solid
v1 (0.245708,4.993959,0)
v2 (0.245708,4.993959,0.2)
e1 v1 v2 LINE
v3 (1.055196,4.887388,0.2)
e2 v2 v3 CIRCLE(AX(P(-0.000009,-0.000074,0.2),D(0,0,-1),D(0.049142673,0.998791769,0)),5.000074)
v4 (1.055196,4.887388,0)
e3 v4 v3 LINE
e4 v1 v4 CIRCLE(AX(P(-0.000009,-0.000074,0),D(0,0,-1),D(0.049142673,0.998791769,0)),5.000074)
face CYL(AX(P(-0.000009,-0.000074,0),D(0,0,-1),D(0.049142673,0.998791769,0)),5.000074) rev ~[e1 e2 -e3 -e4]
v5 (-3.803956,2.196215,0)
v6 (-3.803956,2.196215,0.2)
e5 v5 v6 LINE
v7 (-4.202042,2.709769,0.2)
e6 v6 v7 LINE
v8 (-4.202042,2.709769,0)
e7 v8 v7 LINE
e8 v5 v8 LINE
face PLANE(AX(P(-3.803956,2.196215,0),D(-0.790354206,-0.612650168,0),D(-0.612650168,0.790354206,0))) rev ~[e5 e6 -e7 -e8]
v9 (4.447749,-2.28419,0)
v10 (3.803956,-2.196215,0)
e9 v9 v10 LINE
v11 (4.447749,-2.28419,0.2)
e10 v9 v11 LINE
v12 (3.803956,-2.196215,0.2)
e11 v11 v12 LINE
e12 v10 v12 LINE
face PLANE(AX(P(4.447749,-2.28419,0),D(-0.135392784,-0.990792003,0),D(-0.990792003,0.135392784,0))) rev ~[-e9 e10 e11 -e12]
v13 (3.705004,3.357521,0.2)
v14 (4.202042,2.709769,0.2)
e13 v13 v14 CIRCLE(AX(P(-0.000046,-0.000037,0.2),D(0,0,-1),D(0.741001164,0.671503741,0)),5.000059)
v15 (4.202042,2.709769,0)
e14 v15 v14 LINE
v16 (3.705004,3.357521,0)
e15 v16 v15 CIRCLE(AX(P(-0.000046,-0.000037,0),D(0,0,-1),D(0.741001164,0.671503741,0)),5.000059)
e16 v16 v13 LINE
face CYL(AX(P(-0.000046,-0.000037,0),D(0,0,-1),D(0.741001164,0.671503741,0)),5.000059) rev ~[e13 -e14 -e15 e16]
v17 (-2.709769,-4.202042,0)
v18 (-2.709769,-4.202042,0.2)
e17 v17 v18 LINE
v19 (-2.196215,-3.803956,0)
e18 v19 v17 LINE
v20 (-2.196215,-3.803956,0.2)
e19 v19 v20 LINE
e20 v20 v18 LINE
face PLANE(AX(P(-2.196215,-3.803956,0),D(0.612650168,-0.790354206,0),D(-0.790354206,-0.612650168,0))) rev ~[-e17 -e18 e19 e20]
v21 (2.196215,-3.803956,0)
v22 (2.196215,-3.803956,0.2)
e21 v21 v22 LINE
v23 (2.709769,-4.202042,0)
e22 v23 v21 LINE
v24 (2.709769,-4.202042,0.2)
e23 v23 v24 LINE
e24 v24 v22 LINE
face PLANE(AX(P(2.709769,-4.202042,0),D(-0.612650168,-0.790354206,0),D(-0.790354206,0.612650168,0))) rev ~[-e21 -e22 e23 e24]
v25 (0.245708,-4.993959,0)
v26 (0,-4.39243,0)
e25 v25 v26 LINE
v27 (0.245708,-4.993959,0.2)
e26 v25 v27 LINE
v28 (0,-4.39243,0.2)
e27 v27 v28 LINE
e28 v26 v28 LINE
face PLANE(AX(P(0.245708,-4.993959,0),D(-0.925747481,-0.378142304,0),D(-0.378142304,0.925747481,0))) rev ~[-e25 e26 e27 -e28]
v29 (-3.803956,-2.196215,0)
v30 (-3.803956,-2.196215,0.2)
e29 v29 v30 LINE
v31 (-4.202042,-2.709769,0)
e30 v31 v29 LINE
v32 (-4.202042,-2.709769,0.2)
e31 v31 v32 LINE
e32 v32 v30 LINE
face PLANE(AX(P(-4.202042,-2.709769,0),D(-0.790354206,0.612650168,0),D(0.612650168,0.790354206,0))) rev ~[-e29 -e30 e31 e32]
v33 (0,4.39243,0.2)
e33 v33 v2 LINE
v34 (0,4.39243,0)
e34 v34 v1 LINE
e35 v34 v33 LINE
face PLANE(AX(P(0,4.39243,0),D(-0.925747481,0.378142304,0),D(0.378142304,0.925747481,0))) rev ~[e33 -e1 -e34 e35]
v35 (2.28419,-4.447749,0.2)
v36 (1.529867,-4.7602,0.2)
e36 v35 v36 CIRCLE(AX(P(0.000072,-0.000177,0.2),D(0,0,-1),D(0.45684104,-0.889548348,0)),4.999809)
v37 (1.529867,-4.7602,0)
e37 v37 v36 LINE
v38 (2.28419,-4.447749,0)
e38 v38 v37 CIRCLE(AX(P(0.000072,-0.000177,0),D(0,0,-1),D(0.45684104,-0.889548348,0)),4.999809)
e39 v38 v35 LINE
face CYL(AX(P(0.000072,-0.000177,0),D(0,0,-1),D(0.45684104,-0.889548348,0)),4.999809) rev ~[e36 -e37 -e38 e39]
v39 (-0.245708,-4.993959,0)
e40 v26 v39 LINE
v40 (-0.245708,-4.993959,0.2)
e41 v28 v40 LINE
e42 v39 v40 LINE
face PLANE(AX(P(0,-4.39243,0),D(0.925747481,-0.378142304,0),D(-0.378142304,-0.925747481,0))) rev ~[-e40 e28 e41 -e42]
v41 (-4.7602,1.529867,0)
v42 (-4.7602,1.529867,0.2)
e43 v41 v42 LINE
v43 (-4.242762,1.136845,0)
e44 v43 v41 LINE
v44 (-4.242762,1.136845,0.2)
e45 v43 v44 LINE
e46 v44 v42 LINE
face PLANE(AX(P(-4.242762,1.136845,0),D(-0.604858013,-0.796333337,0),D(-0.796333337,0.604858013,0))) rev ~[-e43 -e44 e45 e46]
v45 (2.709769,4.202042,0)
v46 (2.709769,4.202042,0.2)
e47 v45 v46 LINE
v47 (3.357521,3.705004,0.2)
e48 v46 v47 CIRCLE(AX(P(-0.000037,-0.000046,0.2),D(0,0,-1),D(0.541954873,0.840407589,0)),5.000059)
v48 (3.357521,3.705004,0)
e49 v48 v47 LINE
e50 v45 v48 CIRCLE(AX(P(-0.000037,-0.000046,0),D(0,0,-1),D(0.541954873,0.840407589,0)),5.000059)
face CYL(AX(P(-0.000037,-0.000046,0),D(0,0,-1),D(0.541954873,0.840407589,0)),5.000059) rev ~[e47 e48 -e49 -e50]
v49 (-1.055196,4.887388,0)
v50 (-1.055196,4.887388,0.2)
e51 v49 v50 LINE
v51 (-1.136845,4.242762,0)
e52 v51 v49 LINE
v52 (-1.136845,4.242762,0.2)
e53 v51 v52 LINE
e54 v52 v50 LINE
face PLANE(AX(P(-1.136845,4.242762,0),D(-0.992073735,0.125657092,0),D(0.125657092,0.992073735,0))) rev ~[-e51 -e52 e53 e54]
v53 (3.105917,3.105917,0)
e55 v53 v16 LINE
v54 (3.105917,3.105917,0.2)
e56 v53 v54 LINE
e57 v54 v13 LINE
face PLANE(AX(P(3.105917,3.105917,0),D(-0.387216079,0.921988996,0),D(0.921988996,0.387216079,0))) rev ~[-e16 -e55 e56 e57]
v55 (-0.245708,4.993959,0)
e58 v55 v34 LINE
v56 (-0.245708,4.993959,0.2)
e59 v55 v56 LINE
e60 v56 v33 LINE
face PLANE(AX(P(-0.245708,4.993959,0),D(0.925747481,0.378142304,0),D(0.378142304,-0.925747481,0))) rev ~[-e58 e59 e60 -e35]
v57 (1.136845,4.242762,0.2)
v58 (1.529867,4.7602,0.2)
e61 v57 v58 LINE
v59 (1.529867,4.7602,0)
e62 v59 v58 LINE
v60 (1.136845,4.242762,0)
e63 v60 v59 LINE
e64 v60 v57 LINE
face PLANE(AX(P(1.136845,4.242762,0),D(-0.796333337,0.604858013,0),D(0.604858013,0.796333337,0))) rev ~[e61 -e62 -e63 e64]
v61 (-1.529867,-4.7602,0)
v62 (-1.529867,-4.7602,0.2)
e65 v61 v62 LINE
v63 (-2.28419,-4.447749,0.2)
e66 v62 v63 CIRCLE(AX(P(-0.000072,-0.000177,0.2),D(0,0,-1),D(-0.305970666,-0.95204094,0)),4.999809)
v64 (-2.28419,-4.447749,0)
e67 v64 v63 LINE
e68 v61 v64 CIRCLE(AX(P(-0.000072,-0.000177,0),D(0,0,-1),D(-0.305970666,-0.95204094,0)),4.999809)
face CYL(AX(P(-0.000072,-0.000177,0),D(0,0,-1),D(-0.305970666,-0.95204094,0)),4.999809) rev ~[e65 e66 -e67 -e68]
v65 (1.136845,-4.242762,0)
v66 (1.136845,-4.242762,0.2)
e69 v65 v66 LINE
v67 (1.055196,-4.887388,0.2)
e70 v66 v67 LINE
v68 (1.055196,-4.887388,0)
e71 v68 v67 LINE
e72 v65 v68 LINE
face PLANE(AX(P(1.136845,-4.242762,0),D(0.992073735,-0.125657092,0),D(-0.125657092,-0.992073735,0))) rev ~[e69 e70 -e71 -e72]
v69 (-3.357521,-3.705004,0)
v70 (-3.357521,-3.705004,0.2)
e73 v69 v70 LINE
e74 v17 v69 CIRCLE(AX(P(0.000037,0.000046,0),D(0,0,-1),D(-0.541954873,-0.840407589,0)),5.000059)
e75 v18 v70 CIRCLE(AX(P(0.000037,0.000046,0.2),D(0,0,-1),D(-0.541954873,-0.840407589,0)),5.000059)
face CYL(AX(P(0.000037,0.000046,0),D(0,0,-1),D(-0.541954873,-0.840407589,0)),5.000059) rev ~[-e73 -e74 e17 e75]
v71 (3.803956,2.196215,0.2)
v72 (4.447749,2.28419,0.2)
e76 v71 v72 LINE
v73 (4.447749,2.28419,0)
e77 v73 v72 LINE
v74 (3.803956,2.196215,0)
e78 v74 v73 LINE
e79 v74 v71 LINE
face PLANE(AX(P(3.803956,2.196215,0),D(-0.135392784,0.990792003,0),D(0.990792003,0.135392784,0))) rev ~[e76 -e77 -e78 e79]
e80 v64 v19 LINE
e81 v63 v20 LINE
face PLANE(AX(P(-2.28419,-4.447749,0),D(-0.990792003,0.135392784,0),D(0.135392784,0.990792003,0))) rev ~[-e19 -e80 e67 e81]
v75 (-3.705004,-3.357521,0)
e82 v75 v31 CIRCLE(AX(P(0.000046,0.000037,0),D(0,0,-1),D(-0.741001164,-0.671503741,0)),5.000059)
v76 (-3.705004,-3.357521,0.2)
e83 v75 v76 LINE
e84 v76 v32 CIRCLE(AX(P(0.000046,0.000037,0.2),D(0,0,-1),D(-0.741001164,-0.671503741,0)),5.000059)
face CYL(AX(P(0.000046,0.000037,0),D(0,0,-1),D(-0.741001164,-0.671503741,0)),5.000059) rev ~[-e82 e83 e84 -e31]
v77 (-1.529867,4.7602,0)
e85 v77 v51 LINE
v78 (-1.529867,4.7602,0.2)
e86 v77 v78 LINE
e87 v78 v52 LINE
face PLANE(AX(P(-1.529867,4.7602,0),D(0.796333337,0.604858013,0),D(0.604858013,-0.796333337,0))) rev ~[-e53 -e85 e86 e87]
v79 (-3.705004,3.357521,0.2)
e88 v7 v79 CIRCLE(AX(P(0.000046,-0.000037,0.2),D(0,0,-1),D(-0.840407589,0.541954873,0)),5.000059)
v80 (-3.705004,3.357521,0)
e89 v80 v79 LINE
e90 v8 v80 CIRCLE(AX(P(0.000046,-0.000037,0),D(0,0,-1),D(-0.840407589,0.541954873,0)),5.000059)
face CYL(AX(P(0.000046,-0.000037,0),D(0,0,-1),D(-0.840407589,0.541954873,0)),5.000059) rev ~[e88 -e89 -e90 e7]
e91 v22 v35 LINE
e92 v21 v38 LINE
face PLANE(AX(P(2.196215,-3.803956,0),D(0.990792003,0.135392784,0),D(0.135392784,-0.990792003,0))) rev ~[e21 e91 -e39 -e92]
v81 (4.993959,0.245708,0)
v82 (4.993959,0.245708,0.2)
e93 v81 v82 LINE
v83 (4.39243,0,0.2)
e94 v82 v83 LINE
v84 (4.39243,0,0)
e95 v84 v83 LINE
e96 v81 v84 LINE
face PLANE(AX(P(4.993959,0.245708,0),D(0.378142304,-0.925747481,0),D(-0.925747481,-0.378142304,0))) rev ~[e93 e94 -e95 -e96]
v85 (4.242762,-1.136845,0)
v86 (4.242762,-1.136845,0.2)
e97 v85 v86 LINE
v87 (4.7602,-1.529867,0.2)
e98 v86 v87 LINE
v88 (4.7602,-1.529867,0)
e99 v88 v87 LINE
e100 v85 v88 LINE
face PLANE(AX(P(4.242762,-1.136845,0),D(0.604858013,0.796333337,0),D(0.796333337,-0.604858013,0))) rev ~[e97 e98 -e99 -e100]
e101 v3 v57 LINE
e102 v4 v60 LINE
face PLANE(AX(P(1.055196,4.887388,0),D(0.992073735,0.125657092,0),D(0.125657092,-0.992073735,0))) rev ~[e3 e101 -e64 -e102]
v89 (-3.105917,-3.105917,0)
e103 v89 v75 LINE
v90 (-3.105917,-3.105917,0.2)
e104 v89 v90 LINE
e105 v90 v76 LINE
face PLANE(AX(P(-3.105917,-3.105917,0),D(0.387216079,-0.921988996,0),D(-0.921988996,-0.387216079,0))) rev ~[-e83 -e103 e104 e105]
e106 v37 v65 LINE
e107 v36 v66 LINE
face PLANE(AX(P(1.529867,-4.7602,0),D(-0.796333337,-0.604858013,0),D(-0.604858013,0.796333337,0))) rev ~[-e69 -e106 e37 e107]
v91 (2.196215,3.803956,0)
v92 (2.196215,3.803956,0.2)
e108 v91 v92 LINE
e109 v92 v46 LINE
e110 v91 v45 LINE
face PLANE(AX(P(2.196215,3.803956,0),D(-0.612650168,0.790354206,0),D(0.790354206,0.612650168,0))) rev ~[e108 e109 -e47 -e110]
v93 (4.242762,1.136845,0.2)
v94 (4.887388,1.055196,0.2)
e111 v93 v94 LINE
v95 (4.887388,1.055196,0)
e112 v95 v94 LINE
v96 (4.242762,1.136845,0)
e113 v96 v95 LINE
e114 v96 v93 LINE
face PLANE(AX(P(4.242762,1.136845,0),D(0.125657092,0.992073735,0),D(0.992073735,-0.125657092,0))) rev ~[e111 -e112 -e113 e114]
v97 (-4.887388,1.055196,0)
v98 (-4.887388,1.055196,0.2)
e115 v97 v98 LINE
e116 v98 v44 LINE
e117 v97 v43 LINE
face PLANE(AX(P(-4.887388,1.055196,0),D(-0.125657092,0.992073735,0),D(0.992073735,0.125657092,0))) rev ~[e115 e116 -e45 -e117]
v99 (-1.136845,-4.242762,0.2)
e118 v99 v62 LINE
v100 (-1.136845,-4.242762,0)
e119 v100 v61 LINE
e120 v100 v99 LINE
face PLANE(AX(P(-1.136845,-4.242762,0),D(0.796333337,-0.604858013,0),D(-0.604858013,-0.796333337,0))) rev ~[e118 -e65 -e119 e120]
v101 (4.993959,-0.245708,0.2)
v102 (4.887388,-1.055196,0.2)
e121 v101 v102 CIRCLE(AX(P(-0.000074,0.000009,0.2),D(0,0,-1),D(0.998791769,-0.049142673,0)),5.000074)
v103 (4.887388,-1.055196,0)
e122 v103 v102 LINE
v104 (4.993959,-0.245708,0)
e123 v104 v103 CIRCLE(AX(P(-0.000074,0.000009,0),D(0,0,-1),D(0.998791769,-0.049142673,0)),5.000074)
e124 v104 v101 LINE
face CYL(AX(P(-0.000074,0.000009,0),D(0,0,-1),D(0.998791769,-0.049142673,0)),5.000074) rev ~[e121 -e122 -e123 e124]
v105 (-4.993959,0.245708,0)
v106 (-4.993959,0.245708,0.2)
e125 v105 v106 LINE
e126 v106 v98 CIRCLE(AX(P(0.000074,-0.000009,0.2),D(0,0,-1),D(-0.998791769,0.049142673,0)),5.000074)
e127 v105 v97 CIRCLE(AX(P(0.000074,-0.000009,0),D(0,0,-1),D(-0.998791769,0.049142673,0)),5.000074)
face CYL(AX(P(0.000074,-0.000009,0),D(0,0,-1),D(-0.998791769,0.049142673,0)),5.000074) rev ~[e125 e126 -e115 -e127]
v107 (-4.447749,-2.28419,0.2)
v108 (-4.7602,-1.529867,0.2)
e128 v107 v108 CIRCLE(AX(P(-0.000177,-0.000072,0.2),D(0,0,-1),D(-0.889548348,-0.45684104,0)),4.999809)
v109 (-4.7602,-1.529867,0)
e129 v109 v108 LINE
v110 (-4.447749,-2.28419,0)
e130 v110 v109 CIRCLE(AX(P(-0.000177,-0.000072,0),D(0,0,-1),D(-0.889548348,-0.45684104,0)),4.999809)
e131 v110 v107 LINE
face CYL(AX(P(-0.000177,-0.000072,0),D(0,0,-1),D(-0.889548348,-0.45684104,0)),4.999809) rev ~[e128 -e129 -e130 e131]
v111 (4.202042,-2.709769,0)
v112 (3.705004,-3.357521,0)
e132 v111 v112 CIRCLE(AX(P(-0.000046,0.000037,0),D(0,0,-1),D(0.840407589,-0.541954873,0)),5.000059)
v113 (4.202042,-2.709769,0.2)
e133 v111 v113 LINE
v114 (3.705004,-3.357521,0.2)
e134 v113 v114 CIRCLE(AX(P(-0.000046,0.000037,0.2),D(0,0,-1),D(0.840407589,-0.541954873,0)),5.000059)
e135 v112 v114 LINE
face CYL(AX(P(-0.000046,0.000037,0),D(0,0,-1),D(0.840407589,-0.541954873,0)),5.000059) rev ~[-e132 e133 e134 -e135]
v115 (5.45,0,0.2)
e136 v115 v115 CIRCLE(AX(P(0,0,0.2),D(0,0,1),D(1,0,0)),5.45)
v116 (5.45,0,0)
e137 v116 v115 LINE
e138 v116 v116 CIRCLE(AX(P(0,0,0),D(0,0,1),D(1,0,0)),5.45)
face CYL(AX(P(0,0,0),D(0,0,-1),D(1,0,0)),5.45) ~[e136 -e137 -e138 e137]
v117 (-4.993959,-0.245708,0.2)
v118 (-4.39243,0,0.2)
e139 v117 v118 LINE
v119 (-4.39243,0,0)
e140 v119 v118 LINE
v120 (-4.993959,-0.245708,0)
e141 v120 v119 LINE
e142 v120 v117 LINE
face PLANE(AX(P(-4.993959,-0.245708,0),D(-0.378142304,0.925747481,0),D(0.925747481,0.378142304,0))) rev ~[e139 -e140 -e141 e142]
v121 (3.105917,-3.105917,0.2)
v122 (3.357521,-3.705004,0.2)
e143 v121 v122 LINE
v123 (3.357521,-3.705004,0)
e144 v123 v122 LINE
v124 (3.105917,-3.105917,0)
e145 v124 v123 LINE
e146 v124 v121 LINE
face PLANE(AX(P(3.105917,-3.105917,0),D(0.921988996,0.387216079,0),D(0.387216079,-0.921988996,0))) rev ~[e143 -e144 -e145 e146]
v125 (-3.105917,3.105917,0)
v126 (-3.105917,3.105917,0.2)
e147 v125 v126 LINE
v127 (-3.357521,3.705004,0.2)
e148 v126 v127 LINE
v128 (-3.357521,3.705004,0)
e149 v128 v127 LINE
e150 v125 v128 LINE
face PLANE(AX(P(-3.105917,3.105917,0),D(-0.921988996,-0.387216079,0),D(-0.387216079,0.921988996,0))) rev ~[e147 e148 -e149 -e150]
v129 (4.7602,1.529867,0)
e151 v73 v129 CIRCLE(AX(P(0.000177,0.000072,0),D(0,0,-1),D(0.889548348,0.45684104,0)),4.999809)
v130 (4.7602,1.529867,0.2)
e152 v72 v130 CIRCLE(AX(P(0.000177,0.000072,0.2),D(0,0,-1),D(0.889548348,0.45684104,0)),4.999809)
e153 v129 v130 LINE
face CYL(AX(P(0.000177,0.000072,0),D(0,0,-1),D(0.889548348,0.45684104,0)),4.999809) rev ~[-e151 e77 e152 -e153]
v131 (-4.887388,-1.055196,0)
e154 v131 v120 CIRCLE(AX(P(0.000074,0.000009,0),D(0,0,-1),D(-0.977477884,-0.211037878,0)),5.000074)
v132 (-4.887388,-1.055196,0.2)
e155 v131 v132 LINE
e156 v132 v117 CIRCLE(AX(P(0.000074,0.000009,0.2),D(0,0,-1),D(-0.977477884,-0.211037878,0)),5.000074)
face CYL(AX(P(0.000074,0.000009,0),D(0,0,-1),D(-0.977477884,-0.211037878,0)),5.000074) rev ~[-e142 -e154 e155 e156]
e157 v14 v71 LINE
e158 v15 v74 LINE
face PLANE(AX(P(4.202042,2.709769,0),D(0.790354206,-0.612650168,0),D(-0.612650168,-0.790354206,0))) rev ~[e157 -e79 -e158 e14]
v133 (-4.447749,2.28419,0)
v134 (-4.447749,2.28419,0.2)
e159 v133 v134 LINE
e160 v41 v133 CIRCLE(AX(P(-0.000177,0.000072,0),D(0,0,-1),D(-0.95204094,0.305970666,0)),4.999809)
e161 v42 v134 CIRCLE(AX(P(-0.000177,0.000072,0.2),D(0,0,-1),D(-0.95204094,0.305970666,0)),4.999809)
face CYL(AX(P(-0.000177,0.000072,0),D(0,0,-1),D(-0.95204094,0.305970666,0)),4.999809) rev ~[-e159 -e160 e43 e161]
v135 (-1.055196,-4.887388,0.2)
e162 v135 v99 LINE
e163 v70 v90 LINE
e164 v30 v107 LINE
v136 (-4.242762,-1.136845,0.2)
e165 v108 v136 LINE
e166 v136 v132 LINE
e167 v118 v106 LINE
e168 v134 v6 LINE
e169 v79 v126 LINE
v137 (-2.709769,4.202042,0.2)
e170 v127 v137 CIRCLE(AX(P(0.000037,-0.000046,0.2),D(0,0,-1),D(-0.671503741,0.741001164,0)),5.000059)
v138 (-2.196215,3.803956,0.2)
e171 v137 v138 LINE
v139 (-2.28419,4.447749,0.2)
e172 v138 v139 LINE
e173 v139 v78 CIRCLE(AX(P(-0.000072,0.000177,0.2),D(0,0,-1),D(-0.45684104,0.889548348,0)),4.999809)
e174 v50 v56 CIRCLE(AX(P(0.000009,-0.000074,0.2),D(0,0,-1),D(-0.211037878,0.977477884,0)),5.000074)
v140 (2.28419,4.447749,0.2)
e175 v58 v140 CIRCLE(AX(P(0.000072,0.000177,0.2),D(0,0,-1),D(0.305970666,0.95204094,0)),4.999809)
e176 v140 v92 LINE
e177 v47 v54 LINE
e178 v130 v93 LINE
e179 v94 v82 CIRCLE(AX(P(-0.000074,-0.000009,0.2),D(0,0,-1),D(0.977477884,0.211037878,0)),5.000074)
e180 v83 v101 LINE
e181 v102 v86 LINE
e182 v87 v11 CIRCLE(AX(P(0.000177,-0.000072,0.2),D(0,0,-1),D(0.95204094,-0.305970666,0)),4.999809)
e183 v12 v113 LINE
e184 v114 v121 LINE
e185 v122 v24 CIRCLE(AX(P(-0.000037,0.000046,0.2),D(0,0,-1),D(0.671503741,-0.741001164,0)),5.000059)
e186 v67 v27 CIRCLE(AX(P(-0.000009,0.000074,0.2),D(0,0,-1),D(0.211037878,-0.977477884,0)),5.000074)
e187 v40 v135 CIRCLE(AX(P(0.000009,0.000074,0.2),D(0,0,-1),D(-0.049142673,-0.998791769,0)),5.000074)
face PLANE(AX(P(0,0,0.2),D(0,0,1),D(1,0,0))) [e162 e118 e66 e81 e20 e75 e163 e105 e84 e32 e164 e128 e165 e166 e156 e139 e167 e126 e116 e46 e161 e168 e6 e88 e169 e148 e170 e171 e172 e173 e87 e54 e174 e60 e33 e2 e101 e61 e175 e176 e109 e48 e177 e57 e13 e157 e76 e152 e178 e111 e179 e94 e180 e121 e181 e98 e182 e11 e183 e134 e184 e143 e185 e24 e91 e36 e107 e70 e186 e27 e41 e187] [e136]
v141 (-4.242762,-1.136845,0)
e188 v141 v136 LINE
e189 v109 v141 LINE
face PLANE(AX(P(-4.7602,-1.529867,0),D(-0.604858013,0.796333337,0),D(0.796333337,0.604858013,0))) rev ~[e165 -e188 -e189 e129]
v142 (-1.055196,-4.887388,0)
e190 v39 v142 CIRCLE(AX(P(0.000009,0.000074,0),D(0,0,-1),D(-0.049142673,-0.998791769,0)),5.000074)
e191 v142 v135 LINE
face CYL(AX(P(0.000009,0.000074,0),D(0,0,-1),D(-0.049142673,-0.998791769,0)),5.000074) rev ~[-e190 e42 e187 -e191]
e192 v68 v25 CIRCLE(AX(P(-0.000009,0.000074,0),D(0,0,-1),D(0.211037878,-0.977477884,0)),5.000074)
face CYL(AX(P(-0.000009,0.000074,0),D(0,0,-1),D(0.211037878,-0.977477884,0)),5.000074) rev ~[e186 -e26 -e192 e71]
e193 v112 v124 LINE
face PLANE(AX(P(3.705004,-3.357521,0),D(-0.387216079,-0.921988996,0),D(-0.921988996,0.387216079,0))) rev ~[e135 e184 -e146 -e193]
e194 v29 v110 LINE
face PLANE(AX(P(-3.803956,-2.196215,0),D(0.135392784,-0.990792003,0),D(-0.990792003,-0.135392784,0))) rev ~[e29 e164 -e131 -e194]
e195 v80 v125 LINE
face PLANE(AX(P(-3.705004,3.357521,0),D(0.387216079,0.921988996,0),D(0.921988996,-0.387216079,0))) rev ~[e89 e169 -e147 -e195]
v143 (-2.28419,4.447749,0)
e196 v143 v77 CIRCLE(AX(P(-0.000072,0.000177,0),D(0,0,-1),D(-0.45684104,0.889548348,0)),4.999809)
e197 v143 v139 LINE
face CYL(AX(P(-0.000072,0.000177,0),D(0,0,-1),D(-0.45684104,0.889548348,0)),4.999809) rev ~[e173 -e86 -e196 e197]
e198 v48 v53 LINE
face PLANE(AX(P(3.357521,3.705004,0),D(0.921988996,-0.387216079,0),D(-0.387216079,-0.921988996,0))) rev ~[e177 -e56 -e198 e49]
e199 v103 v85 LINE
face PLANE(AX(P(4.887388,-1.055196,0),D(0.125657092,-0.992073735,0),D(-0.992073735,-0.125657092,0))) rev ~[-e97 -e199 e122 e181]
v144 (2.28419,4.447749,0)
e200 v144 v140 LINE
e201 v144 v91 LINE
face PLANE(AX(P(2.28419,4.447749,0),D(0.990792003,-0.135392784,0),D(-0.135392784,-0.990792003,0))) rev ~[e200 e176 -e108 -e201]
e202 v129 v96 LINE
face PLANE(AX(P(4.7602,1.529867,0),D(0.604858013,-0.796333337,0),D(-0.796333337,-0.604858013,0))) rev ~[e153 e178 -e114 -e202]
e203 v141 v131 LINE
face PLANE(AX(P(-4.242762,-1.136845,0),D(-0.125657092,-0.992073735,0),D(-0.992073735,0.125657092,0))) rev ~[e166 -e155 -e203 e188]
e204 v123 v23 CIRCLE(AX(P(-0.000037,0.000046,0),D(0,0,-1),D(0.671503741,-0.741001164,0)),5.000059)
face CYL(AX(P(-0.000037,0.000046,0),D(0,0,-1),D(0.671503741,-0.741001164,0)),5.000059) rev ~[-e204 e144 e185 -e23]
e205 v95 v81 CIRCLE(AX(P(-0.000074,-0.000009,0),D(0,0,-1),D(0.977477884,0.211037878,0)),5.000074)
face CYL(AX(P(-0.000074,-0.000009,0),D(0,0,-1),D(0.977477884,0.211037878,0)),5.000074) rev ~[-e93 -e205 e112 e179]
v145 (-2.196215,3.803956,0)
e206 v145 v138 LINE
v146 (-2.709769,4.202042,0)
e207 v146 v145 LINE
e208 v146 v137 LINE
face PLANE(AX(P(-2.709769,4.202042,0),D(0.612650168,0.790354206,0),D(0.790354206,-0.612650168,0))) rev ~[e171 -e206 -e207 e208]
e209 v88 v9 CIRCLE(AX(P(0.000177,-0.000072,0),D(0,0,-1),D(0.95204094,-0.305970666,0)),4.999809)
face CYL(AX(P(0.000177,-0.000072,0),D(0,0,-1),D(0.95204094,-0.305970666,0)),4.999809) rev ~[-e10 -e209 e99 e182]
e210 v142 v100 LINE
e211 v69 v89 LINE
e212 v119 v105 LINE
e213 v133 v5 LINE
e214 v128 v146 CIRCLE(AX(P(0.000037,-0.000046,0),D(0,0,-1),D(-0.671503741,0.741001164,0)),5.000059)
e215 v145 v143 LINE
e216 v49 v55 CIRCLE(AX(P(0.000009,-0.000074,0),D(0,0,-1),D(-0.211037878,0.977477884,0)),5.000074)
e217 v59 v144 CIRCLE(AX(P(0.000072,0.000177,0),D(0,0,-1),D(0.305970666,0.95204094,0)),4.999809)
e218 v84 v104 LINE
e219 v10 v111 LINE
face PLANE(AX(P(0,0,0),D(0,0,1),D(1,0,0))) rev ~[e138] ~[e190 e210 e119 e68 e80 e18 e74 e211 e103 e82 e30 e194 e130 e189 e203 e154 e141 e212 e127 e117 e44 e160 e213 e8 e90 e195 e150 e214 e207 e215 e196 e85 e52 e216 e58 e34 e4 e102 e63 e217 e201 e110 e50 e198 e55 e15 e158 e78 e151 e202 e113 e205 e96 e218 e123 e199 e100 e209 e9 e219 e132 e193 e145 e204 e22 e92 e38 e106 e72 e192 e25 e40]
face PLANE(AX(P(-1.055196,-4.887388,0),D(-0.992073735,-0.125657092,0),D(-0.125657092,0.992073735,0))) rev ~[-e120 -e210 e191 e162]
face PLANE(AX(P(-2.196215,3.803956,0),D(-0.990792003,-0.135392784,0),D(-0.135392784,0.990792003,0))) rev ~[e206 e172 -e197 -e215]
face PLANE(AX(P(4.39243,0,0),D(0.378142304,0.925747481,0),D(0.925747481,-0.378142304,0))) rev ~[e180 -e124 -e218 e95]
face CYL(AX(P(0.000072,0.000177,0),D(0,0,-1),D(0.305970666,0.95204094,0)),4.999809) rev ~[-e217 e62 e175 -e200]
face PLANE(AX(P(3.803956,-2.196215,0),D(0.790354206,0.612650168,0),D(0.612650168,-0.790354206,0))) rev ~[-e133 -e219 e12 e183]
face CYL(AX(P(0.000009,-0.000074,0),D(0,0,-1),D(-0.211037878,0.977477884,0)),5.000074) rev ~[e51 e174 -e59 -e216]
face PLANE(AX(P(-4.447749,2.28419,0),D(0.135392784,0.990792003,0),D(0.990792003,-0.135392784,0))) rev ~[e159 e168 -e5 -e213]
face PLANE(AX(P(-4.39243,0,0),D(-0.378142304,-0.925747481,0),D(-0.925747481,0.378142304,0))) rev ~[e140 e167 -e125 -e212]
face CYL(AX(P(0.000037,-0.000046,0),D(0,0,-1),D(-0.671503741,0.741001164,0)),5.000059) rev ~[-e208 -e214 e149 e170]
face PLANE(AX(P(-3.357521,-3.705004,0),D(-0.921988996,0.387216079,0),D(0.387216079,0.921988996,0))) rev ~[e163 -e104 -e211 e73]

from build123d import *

# Parameters (mm, degrees)
F0_R     = 5.45
F1_DEPTH = 0.2


with BuildPart() as f1:
    # F0 (on Top) → F1 (new body)
    with BuildSketch(Plane.XY):
        Circle(F0_R)
        with BuildLine():
            ThreePointArc((4.993959, 0.245708), (4.99849, 0.122891), (5, 0))
            ThreePointArc((5, 0), (4.99849, -0.122891), (4.993959, -0.245708))
            ThreePointArc((4.993959, -0.245708), (4.957224, -0.652631), (4.887388, -1.055196))
            ThreePointArc((4.887388, -1.055196), (4.829629, -1.294095), (4.7602, -1.529867))
            ThreePointArc((4.7602, -1.529867), (4.619398, -1.913417), (4.447749, -2.28419))
            ThreePointArc((4.447749, -2.28419), (4.330127, -2.5), (4.202042, -2.709769))
            ThreePointArc((4.202042, -2.709769), (3.966767, -3.043807), (3.705004, -3.357521))
            ThreePointArc((3.705004, -3.357521), (3.535534, -3.535534), (3.357521, -3.705004))
            ThreePointArc((3.357521, -3.705004), (3.043807, -3.966767), (2.709769, -4.202042))
            ThreePointArc((2.709769, -4.202042), (2.5, -4.330127), (2.28419, -4.447749))
            ThreePointArc((2.28419, -4.447749), (1.913417, -4.619398), (1.529867, -4.7602))
            ThreePointArc((1.529867, -4.7602), (1.294095, -4.829629), (1.055196, -4.887388))
            ThreePointArc((1.055196, -4.887388), (0.652631, -4.957224), (0.245708, -4.993959))
            ThreePointArc((0.245708, -4.993959), (0, -5), (-0.245708, -4.993959))
            ThreePointArc((-0.245708, -4.993959), (-0.652631, -4.957224), (-1.055196, -4.887388))
            ThreePointArc((-1.055196, -4.887388), (-1.294095, -4.829629), (-1.529867, -4.7602))
            ThreePointArc((-1.529867, -4.7602), (-1.913417, -4.619398), (-2.28419, -4.447749))
            ThreePointArc((-2.28419, -4.447749), (-2.5, -4.330127), (-2.709769, -4.202042))
            ThreePointArc((-2.709769, -4.202042), (-3.043807, -3.966767), (-3.357521, -3.705004))
            ThreePointArc((-3.357521, -3.705004), (-3.535534, -3.535534), (-3.705004, -3.357521))
            ThreePointArc((-3.705004, -3.357521), (-3.966767, -3.043807), (-4.202042, -2.709769))
            ThreePointArc((-4.202042, -2.709769), (-4.330127, -2.5), (-4.447749, -2.28419))
            ThreePointArc((-4.447749, -2.28419), (-4.619398, -1.913417), (-4.7602, -1.529867))
            ThreePointArc((-4.7602, -1.529867), (-4.829629, -1.294095), (-4.887388, -1.055196))
            ThreePointArc((-4.887388, -1.055196), (-4.957224, -0.652631), (-4.993959, -0.245708))
            ThreePointArc((-4.993959, -0.245708), (-5, 0), (-4.993959, 0.245708))
            ThreePointArc((-4.993959, 0.245708), (-4.957224, 0.652631), (-4.887388, 1.055196))
            ThreePointArc((-4.887388, 1.055196), (-4.829629, 1.294095), (-4.7602, 1.529867))
            ThreePointArc((-4.7602, 1.529867), (-4.619398, 1.913417), (-4.447749, 2.28419))
            ThreePointArc((-4.447749, 2.28419), (-4.330127, 2.5), (-4.202042, 2.709769))
            ThreePointArc((-4.202042, 2.709769), (-3.966767, 3.043807), (-3.705004, 3.357521))
            ThreePointArc((-3.705004, 3.357521), (-3.535534, 3.535534), (-3.357521, 3.705004))
            ThreePointArc((-3.357521, 3.705004), (-3.043807, 3.966767), (-2.709769, 4.202042))
            ThreePointArc((-2.709769, 4.202042), (-2.5, 4.330127), (-2.28419, 4.447749))
            ThreePointArc((-2.28419, 4.447749), (-1.913417, 4.619398), (-1.529867, 4.7602))
            ThreePointArc((-1.529867, 4.7602), (-1.294095, 4.829629), (-1.055196, 4.887388))
            ThreePointArc((-1.055196, 4.887388), (-0.652631, 4.957224), (-0.245708, 4.993959))
            ThreePointArc((-0.245708, 4.993959), (0, 5), (0.245708, 4.993959))
            ThreePointArc((0.245708, 4.993959), (0.652631, 4.957224), (1.055196, 4.887388))
            ThreePointArc((1.055196, 4.887388), (1.294095, 4.829629), (1.529867, 4.7602))
            ThreePointArc((1.529867, 4.7602), (1.913417, 4.619398), (2.28419, 4.447749))
            ThreePointArc((2.28419, 4.447749), (2.5, 4.330127), (2.709769, 4.202042))
            ThreePointArc((2.709769, 4.202042), (3.043807, 3.966767), (3.357521, 3.705004))
            ThreePointArc((3.357521, 3.705004), (3.535534, 3.535534), (3.705004, 3.357521))
            ThreePointArc((3.705004, 3.357521), (3.966767, 3.043807), (4.202042, 2.709769))
            ThreePointArc((4.202042, 2.709769), (4.330127, 2.5), (4.447749, 2.28419))
            ThreePointArc((4.447749, 2.28419), (4.619398, 1.913417), (4.7602, 1.529867))
            ThreePointArc((4.7602, 1.529867), (4.829629, 1.294095), (4.887388, 1.055196))
            ThreePointArc((4.887388, 1.055196), (4.957224, 0.652631), (4.993959, 0.245708))
        make_face(mode=Mode.SUBTRACT)
        with BuildLine():
            Line((-2.196215, 3.803956), (-2.28419, 4.447749))
            ThreePointArc((-2.28419, 4.447749), (-2.5, 4.330127), (-2.709769, 4.202042))
            Line((-2.709769, 4.202042), (-2.196215, 3.803956))
        make_face()
        with BuildLine():
            Line((-1.136845, 4.242762), (-1.055196, 4.887388))
            ThreePointArc((-1.055196, 4.887388), (-1.294095, 4.829629), (-1.529867, 4.7602))
            Line((-1.529867, 4.7602), (-1.136845, 4.242762))
        make_face()
        with BuildLine():
            Line((-3.105917, 3.105917), (-3.357521, 3.705004))
            ThreePointArc((-3.357521, 3.705004), (-3.535534, 3.535534), (-3.705004, 3.357521))
            Line((-3.705004, 3.357521), (-3.105917, 3.105917))
        make_face()
        with BuildLine():
            Line((-3.803956, 2.196215), (-4.202042, 2.709769))
            ThreePointArc((-4.202042, 2.709769), (-4.330127, 2.5), (-4.447749, 2.28419))
            Line((-4.447749, 2.28419), (-3.803956, 2.196215))
        make_face()
        with BuildLine():
            Line((-4.242762, 1.136845), (-4.7602, 1.529867))
            ThreePointArc((-4.7602, 1.529867), (-4.829629, 1.294095), (-4.887388, 1.055196))
            Line((-4.887388, 1.055196), (-4.242762, 1.136845))
        make_face()
        with BuildLine():
            Line((-4.39243, 0), (-4.993959, 0.245708))
            ThreePointArc((-4.993959, 0.245708), (-5, 0), (-4.993959, -0.245708))
            Line((-4.993959, -0.245708), (-4.39243, 0))
        make_face()
        with BuildLine():
            ThreePointArc((-4.887388, -1.055196), (-4.829629, -1.294095), (-4.7602, -1.529867))
            Line((-4.7602, -1.529867), (-4.242762, -1.136845))
            Line((-4.242762, -1.136845), (-4.887388, -1.055196))
        make_face()
        with BuildLine():
            ThreePointArc((-4.447749, -2.28419), (-4.330127, -2.5), (-4.202042, -2.709769))
            Line((-4.202042, -2.709769), (-3.803956, -2.196215))
            Line((-3.803956, -2.196215), (-4.447749, -2.28419))
        make_face()
        with BuildLine():
            ThreePointArc((-3.705004, -3.357521), (-3.535534, -3.535534), (-3.357521, -3.705004))
            Line((-3.357521, -3.705004), (-3.105917, -3.105917))
            Line((-3.105917, -3.105917), (-3.705004, -3.357521))
        make_face()
        with BuildLine():
            ThreePointArc((-2.709769, -4.202042), (-2.5, -4.330127), (-2.28419, -4.447749))
            Line((-2.28419, -4.447749), (-2.196215, -3.803956))
            Line((-2.196215, -3.803956), (-2.709769, -4.202042))
        make_face()
        with BuildLine():
            ThreePointArc((-1.529867, -4.7602), (-1.294095, -4.829629), (-1.055196, -4.887388))
            Line((-1.055196, -4.887388), (-1.136845, -4.242762))
            Line((-1.136845, -4.242762), (-1.529867, -4.7602))
        make_face()
        with BuildLine():
            ThreePointArc((-0.245708, -4.993959), (0, -5), (0.245708, -4.993959))
            Line((0.245708, -4.993959), (0, -4.39243))
            Line((0, -4.39243), (-0.245708, -4.993959))
        make_face()
        with BuildLine():
            ThreePointArc((1.055196, -4.887388), (1.294095, -4.829629), (1.529867, -4.7602))
            Line((1.529867, -4.7602), (1.136845, -4.242762))
            Line((1.136845, -4.242762), (1.055196, -4.887388))
        make_face()
        with BuildLine():
            ThreePointArc((2.28419, -4.447749), (2.5, -4.330127), (2.709769, -4.202042))
            Line((2.709769, -4.202042), (2.196215, -3.803956))
            Line((2.196215, -3.803956), (2.28419, -4.447749))
        make_face()
        with BuildLine():
            ThreePointArc((3.357521, -3.705004), (3.535534, -3.535534), (3.705004, -3.357521))
            Line((3.705004, -3.357521), (3.105917, -3.105917))
            Line((3.105917, -3.105917), (3.357521, -3.705004))
        make_face()
        with BuildLine():
            ThreePointArc((4.202042, -2.709769), (4.330127, -2.5), (4.447749, -2.28419))
            Line((4.447749, -2.28419), (3.803956, -2.196215))
            Line((3.803956, -2.196215), (4.202042, -2.709769))
        make_face()
        with BuildLine():
            ThreePointArc((4.7602, -1.529867), (4.829629, -1.294095), (4.887388, -1.055196))
            Line((4.887388, -1.055196), (4.242762, -1.136845))
            Line((4.242762, -1.136845), (4.7602, -1.529867))
        make_face()
        with BuildLine():
            ThreePointArc((4.993959, -0.245708), (4.99849, -0.122891), (5, 0))
            ThreePointArc((5, 0), (4.99849, 0.122891), (4.993959, 0.245708))
            Line((4.993959, 0.245708), (4.39243, 0))
            Line((4.39243, 0), (4.993959, -0.245708))
        make_face()
        with BuildLine():
            Line((4.242762, 1.136845), (4.887388, 1.055196))
            ThreePointArc((4.887388, 1.055196), (4.829629, 1.294095), (4.7602, 1.529867))
            Line((4.7602, 1.529867), (4.242762, 1.136845))
        make_face()
        with BuildLine():
            Line((3.803956, 2.196215), (4.447749, 2.28419))
            ThreePointArc((4.447749, 2.28419), (4.330127, 2.5), (4.202042, 2.709769))
            Line((4.202042, 2.709769), (3.803956, 2.196215))
        make_face()
        with BuildLine():
            Line((3.105917, 3.105917), (3.705004, 3.357521))
            ThreePointArc((3.705004, 3.357521), (3.535534, 3.535534), (3.357521, 3.705004))
            Line((3.357521, 3.705004), (3.105917, 3.105917))
        make_face()
        with BuildLine():
            Line((2.196215, 3.803956), (2.709769, 4.202042))
            ThreePointArc((2.709769, 4.202042), (2.5, 4.330127), (2.28419, 4.447749))
            Line((2.28419, 4.447749), (2.196215, 3.803956))
        make_face()
        with BuildLine():
            Line((1.136845, 4.242762), (1.529867, 4.7602))
            ThreePointArc((1.529867, 4.7602), (1.294095, 4.829629), (1.055196, 4.887388))
            Line((1.055196, 4.887388), (1.136845, 4.242762))
        make_face()
        with BuildLine():
            Line((0, 4.39243), (0.245708, 4.993959))
            ThreePointArc((0.245708, 4.993959), (0, 5), (-0.245708, 4.993959))
            Line((-0.245708, 4.993959), (0, 4.39243))
        make_face()
    extrude(amount=F1_DEPTH)


solid = f1.part
